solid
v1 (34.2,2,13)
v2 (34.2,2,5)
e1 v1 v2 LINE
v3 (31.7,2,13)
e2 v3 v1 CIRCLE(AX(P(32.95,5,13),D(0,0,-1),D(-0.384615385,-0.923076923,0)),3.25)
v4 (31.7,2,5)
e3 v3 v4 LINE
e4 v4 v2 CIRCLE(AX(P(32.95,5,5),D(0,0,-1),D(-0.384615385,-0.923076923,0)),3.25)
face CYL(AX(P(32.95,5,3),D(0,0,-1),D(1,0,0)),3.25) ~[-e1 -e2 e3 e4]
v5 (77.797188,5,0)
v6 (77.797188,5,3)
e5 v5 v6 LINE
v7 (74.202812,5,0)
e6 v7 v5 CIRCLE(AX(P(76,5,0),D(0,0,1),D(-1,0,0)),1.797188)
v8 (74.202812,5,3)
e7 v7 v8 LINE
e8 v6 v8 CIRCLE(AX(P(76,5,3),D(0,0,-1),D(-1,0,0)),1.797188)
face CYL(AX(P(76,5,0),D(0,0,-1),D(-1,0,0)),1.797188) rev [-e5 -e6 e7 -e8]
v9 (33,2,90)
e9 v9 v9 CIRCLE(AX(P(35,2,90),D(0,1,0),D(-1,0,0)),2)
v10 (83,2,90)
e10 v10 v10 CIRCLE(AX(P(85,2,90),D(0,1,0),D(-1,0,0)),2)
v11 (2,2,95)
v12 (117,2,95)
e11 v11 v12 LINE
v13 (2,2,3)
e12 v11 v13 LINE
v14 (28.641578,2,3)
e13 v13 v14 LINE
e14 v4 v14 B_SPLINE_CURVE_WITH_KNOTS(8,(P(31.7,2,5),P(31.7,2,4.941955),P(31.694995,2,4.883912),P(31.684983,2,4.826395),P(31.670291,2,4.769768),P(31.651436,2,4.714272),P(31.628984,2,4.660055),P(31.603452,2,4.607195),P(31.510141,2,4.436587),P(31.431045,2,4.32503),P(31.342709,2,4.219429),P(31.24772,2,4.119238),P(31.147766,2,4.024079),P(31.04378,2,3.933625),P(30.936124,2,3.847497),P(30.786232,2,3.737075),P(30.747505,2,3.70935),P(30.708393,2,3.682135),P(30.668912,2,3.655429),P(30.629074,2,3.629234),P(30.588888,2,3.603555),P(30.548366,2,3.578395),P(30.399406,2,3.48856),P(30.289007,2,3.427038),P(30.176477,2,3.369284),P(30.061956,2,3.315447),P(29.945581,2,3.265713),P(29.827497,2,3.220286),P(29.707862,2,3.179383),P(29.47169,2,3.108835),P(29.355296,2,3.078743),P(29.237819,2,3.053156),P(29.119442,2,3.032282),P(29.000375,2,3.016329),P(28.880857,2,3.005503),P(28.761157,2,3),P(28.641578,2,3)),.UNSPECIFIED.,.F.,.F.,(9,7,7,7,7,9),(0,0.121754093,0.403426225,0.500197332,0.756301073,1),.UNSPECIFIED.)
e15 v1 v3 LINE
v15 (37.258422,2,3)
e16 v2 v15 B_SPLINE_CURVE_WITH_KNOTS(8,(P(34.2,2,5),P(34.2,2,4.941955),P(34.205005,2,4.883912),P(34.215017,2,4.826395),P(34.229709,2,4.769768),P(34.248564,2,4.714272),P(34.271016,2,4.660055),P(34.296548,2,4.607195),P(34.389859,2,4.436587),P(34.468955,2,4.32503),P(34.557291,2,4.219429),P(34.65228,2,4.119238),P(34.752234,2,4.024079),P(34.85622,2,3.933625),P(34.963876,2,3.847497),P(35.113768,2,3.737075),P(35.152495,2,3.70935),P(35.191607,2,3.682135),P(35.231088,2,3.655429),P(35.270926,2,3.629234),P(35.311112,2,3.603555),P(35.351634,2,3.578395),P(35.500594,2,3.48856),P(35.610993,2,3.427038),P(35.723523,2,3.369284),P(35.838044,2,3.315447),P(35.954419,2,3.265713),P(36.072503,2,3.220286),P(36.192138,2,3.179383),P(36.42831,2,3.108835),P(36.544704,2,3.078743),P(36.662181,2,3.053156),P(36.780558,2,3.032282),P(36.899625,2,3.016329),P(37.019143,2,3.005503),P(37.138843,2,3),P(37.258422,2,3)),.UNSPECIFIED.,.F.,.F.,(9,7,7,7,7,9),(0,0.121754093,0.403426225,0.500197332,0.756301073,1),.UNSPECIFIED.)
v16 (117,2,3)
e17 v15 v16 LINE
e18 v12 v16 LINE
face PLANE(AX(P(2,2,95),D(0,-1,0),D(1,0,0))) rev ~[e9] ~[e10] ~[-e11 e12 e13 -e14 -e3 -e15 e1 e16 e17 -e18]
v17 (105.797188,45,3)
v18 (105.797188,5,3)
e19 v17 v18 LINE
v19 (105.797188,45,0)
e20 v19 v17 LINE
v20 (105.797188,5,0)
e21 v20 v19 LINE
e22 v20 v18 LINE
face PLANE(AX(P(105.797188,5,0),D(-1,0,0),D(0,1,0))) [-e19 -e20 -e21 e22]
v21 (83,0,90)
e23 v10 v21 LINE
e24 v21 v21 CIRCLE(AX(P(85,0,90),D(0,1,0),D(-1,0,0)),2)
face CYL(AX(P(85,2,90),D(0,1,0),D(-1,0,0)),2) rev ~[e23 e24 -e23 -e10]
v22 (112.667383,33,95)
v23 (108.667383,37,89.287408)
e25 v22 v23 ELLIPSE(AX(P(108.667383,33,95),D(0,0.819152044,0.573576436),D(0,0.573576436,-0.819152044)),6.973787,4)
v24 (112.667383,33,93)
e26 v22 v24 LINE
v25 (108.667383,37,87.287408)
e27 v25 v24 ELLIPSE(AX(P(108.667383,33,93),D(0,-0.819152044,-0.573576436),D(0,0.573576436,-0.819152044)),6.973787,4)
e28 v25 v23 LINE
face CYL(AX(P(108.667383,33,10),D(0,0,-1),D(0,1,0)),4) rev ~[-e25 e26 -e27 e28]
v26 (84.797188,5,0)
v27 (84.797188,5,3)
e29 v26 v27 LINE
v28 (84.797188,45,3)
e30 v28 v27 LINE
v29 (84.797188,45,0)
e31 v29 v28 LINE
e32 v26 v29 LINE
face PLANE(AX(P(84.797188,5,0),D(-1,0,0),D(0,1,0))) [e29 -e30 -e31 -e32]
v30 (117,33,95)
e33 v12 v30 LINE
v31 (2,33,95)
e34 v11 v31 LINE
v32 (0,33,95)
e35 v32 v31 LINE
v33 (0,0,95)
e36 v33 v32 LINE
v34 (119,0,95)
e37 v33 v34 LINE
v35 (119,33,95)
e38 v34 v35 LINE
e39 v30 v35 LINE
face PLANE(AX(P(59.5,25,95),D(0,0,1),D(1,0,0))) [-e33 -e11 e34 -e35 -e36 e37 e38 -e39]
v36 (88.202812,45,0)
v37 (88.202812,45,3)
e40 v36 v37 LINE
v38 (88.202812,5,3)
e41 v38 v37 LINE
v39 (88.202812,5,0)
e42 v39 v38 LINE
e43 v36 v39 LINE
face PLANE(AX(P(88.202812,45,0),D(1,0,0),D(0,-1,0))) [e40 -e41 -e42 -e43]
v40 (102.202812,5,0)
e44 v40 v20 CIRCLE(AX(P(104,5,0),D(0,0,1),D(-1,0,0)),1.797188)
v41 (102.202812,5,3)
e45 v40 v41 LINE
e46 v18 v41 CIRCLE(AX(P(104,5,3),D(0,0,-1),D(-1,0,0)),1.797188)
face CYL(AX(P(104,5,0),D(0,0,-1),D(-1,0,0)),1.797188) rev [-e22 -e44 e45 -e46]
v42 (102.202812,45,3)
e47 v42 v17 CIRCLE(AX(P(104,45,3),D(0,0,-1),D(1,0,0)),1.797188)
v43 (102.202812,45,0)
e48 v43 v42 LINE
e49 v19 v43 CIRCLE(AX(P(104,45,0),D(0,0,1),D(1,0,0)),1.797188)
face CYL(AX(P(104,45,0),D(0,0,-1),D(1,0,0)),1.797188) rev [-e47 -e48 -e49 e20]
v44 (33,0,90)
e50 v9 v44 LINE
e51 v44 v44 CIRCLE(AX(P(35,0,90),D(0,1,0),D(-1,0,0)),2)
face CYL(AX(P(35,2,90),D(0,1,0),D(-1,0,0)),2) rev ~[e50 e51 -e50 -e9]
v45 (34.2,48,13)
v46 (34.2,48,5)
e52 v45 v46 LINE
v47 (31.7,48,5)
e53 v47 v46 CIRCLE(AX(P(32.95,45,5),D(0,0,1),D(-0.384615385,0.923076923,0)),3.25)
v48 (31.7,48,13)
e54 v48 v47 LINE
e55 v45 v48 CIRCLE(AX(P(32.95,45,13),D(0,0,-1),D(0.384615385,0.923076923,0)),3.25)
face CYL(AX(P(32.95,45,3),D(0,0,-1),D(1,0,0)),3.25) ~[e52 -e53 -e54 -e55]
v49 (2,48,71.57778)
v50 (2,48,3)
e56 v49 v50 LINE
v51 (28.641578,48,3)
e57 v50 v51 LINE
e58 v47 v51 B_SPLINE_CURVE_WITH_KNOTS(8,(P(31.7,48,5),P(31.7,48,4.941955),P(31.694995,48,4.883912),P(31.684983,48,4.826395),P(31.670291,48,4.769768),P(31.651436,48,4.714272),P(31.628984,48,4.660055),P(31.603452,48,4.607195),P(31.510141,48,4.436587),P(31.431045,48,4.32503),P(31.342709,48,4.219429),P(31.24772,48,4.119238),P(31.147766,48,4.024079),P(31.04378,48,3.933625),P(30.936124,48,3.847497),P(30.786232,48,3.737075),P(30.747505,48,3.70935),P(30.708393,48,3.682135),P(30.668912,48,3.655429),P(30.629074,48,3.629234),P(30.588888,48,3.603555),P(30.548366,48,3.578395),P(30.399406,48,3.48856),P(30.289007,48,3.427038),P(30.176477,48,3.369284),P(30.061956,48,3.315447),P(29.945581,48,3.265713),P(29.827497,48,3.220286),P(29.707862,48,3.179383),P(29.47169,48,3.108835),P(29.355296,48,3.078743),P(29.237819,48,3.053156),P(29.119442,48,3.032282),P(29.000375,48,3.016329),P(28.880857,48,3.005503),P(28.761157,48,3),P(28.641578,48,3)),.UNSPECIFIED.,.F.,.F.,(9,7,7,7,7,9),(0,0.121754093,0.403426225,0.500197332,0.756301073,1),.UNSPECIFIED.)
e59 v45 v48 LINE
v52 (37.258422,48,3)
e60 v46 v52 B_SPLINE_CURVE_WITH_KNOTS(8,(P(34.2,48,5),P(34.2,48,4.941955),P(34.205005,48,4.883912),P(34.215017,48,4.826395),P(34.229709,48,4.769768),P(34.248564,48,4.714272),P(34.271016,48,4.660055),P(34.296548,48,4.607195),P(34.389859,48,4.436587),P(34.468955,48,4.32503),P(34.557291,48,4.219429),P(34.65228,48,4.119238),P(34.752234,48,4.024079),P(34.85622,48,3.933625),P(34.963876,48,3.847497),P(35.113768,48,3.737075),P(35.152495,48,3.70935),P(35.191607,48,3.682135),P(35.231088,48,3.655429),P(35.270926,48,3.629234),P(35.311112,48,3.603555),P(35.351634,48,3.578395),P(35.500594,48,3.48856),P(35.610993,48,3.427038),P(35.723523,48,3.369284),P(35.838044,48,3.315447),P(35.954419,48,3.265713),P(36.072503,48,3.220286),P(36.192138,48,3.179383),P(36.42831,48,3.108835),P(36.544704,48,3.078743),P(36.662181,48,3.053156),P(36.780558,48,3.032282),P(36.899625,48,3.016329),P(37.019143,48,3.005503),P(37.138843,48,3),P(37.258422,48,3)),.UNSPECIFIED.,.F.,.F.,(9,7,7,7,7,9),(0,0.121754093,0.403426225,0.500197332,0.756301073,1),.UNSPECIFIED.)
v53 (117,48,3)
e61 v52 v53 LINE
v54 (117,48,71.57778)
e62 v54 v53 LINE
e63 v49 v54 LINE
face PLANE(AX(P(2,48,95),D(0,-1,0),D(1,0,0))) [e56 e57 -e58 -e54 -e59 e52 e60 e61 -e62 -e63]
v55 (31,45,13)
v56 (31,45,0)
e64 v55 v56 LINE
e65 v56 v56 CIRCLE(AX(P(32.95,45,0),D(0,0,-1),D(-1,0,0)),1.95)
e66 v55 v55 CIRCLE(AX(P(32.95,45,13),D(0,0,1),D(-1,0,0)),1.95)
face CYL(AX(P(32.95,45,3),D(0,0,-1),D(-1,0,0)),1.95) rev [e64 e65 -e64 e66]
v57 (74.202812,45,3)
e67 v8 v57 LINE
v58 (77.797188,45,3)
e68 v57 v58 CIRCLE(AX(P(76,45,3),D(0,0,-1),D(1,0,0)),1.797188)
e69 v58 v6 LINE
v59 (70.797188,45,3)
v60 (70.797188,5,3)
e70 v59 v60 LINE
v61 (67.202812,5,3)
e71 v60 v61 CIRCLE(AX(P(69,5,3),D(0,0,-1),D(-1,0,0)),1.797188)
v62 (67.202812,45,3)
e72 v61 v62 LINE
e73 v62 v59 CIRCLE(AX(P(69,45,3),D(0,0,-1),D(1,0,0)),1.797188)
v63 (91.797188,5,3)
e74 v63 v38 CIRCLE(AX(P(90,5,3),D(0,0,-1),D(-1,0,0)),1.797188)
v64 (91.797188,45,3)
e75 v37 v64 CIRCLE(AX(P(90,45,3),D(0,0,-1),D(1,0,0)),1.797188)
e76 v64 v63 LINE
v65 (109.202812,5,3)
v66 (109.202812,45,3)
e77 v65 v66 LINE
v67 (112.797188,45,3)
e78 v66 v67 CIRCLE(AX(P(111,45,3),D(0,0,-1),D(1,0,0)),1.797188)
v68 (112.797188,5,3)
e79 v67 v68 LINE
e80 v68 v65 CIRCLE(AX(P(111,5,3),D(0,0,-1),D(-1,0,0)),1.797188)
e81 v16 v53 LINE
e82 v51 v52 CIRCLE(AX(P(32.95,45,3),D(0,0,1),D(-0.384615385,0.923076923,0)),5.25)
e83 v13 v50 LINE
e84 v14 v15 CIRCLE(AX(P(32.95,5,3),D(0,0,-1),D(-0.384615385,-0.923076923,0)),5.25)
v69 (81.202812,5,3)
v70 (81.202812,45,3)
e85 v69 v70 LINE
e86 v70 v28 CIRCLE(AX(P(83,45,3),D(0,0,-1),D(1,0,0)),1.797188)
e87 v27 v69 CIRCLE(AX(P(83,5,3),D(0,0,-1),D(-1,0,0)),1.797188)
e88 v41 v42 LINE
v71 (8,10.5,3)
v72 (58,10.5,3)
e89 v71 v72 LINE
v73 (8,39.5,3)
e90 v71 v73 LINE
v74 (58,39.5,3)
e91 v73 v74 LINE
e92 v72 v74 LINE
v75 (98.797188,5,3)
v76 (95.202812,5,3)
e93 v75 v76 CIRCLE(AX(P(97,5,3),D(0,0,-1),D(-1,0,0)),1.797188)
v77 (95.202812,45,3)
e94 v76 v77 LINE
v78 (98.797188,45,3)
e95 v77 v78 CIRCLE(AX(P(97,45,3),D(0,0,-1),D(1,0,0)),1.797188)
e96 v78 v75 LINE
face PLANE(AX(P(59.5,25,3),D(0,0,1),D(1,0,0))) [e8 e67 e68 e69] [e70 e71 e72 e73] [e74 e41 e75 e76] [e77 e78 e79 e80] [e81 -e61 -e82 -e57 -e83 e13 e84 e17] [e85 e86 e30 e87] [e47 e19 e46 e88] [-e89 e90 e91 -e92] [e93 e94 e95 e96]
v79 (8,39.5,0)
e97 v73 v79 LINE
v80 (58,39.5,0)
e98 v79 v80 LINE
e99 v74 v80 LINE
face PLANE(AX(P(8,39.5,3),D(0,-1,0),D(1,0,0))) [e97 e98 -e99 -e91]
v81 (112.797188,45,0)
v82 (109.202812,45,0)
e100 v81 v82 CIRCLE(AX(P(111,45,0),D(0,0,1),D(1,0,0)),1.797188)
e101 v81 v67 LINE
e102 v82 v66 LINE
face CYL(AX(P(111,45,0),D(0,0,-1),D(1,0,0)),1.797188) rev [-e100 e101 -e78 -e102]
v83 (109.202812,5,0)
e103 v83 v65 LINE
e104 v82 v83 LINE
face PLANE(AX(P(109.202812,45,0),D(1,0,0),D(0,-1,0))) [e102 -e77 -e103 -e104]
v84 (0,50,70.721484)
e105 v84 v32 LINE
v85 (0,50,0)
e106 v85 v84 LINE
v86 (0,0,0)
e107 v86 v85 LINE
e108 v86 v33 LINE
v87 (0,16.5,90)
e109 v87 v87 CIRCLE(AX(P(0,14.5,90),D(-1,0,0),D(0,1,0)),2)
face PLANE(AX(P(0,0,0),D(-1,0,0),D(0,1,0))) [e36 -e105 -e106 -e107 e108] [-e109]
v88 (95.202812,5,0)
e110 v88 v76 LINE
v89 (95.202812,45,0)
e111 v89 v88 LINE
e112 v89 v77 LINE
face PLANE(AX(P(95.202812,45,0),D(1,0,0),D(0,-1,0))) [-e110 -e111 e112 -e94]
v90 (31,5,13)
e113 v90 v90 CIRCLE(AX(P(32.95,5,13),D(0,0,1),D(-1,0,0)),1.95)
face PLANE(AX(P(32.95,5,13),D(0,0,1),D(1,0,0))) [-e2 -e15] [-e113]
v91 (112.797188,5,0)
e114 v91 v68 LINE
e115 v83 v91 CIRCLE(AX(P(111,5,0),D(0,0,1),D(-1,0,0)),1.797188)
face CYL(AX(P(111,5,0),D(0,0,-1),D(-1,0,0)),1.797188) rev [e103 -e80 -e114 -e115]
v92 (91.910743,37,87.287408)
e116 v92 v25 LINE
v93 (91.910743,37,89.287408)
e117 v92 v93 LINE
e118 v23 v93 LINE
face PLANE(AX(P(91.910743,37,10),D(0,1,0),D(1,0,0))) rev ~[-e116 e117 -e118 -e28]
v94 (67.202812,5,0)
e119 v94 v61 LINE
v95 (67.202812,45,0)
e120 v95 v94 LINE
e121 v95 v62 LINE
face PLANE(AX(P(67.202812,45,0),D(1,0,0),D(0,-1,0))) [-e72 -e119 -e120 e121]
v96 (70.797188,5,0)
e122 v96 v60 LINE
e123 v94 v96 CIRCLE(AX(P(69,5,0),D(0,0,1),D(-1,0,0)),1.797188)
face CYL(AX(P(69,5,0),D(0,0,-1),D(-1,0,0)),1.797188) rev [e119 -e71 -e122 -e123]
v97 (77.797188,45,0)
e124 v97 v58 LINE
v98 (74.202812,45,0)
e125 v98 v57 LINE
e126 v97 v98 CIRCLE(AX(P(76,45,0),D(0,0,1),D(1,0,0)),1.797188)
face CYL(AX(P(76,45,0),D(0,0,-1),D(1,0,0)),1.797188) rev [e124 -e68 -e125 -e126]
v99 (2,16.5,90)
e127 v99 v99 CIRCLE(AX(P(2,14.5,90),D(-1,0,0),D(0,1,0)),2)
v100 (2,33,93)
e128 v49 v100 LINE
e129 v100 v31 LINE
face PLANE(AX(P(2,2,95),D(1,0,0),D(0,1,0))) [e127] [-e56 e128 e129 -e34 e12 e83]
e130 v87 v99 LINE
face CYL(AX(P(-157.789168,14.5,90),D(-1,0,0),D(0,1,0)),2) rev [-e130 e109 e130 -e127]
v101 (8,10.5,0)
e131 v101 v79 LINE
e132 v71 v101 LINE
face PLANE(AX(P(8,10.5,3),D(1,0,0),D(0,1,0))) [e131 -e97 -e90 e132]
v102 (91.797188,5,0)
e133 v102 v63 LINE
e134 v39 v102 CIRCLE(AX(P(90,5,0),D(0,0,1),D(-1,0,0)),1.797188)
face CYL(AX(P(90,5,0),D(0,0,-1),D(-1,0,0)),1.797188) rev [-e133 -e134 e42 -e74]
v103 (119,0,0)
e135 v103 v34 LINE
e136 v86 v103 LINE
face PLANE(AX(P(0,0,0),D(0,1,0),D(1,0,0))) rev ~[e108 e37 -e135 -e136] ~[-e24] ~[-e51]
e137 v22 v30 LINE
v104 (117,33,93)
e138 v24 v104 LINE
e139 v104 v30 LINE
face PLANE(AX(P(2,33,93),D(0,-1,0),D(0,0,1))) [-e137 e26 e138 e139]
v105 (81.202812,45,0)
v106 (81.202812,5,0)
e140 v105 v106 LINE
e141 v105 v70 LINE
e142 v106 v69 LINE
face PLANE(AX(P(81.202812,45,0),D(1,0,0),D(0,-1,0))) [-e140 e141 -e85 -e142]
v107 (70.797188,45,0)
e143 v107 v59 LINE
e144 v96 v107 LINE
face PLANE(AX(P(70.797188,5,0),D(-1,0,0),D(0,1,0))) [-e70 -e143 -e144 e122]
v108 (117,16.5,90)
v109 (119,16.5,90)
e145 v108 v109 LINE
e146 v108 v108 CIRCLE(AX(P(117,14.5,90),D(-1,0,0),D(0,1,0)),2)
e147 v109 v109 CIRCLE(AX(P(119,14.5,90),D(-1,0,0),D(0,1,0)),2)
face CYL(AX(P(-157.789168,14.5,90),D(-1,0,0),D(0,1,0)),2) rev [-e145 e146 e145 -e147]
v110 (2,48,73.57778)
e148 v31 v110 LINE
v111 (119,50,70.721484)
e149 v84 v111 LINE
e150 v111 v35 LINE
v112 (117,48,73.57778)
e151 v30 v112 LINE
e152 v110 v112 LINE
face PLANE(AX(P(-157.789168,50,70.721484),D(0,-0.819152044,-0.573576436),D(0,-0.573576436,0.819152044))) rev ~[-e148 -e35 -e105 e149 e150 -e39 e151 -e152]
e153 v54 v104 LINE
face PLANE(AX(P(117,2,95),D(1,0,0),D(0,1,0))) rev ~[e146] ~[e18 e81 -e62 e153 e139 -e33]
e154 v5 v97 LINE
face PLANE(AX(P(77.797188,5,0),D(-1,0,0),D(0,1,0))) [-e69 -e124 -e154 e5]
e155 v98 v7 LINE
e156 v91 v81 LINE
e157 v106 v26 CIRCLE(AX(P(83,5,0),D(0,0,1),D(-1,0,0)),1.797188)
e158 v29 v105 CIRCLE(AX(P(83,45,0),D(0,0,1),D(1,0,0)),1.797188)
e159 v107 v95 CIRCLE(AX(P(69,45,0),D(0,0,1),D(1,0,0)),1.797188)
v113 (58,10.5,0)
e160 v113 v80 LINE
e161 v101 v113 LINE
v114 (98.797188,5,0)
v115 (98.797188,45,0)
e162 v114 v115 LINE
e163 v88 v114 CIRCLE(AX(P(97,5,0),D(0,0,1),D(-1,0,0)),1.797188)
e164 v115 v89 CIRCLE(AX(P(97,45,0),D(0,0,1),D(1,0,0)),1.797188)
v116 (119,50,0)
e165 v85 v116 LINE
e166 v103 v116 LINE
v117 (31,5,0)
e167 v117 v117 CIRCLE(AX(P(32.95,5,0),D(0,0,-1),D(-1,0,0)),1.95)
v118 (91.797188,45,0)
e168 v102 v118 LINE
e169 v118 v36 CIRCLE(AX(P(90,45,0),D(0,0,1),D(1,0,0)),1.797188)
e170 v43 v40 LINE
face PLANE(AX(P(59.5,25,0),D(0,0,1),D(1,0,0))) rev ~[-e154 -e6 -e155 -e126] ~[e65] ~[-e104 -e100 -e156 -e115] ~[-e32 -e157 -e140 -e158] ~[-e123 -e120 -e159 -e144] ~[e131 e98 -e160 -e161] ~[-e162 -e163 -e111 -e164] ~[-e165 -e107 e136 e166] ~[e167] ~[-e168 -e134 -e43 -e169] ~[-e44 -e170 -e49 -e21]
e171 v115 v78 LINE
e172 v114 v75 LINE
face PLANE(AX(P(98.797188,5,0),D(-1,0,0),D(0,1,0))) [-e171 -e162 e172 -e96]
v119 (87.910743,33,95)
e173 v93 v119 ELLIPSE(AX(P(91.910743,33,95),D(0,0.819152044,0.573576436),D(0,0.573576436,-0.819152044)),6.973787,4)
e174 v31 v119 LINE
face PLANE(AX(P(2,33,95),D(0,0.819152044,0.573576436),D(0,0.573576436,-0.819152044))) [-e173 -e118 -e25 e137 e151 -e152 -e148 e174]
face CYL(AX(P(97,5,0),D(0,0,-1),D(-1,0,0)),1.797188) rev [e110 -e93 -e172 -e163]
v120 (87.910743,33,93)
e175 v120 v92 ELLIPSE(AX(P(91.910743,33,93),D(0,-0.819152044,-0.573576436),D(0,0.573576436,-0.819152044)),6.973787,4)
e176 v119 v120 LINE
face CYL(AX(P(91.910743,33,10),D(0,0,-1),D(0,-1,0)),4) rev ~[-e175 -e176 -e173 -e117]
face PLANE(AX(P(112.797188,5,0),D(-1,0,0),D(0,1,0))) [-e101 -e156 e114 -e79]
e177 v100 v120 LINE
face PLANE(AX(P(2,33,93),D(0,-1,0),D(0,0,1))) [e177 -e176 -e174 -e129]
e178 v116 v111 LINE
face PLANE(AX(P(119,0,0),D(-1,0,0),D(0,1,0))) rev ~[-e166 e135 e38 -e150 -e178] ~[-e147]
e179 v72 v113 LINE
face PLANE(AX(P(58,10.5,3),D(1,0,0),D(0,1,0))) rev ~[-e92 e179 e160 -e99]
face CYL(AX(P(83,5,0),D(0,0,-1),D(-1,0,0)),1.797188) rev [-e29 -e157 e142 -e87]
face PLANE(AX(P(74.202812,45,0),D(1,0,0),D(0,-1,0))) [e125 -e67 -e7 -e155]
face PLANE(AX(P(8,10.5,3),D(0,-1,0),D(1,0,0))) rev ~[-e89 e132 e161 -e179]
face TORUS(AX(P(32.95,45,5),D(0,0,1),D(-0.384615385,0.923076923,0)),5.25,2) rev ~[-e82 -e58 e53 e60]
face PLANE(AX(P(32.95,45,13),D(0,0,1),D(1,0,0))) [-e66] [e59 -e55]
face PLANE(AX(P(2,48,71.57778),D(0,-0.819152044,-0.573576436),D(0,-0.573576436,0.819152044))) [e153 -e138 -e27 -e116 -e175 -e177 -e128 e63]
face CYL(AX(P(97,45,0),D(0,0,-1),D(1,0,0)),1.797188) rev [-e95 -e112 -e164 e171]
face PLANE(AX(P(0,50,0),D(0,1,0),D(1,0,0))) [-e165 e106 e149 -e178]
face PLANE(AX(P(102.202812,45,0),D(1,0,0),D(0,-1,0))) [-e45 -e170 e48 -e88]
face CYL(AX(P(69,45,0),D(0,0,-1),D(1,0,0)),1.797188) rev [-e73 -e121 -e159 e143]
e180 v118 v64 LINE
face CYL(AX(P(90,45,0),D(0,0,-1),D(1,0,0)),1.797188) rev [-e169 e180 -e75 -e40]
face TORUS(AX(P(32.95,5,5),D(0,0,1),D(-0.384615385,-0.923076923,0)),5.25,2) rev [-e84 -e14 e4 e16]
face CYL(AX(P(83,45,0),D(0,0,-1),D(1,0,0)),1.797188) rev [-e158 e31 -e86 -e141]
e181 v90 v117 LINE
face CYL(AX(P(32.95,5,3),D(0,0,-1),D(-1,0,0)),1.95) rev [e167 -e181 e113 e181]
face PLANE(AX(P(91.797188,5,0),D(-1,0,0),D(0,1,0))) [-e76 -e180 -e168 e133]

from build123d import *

# Parameters (mm, degrees)
SKETCH1_W               = 119
SKETCH1_H               = 50
BOSS_EXTRUDE1_DEPTH     = 95
SKETCH2_W               = 115
SKETCH2_H               = 46
CUT_EXTRUDE1_DEPTH      = 92
SKETCH3_W               = 50
SKETCH3_H               = 29
CUT_EXTRUDE2_DEPTH      = 10
SKETCH4_R               = 1.95
CUT_EXTRUDE3_DEPTH      = 10
SKETCH5_R               = 3.25
SKETCH5_R_2             = 1.95
BOSS_EXTRUDE3_DEPTH     = 10
FILLET1_R               = 2
SKETCH6_R               = 2
CUT_EXTRUDE4_DEPTH      = 10
CUT_EXTRUDE5_DEPTH      = 159.789168456
CUT_EXTRUDE5_DEPTH_BACK = 159.789168456
SKETCH8_R               = 2
BOSS_EXTRUDE4_DEPTH     = 115
CUT_EXTRUDE6_DEPTH      = 159.789168456
CUT_EXTRUDE6_DEPTH_BACK = 159.789168456
CUT_EXTRUDE8_DEPTH      = 10
CUT_EXTRUDE9_DEPTH      = 155.550962524


with BuildPart() as part:
    # Sketch1 → Boss-Extrude1 (new body)
    with BuildSketch(Plane.XY):
        with Locations((59.5, 25)):
            Rectangle(SKETCH1_W, SKETCH1_H)
    extrude(amount=BOSS_EXTRUDE1_DEPTH)

    # Sketch2 → Cut-Extrude1 (cut)
    with BuildSketch(Plane.XY.offset(95)):
        with Locations((59.5, 25)):
            Rectangle(SKETCH2_W, SKETCH2_H)
    extrude(amount=-CUT_EXTRUDE1_DEPTH, mode=Mode.SUBTRACT)

    # Sketch3 → Cut-Extrude2 (cut)
    with BuildSketch(Plane.XY.offset(3)):
        with Locations((33, 25)):
            Rectangle(SKETCH3_W, SKETCH3_H)
    extrude(amount=-CUT_EXTRUDE2_DEPTH, mode=Mode.SUBTRACT)

    # Sketch4 → Cut-Extrude3 (cut)
    with BuildSketch(Plane(origin=(0, 0, 0), x_dir=(-1, 0, 0), z_dir=(0, 0, -1))):
        with Locations((-32.95, 45)):
            Circle(SKETCH4_R)
        with Locations((-32.95, 5)):
            Circle(SKETCH4_R)
    extrude(amount=-CUT_EXTRUDE3_DEPTH, mode=Mode.SUBTRACT)

    # Sketch5 → Boss-Extrude3 (add)
    # profile 1 of 2: a face of its own
    with BuildSketch(Plane.XY.offset(3)):
        with Locations((32.95, 45)):
            Circle(SKETCH5_R)
        with Locations(Location((32.95, 45, 0), (0, 0, 180))):
            Circle(SKETCH5_R_2, mode=Mode.SUBTRACT)
    # profile 2 of 2: a face of its own
    with BuildSketch(Plane.XY.offset(3)):
        with Locations((32.95, 5)):
            Circle(SKETCH5_R)
        with Locations(Location((32.95, 5, 0), (0, 0, 180))):
            Circle(SKETCH5_R_2, mode=Mode.SUBTRACT)
    extrude(amount=BOSS_EXTRUDE3_DEPTH)

    # Fillet1
    fillet1_edges = [part.edges().sort_by_distance(p)[0] for p in [
        (31.147224362, 42.295836543, 3),
        (31.147224362, 7.704163457, 3),
    ]]
    fillet(fillet1_edges, radius=FILLET1_R)

    # Sketch6 → Cut-Extrude4 (cut)
    with BuildSketch(Plane(origin=(0, 2, 0), x_dir=(1, 0, 0), z_dir=(0, 1, 0))):
        with Locations(Location((85, -90, 0), (0, 0, 180))):
            Circle(SKETCH6_R)
        with Locations(Location((35, -90, 0), (0, 0, 180))):
            Circle(SKETCH6_R)
    extrude(amount=-CUT_EXTRUDE4_DEPTH, mode=Mode.SUBTRACT)

    # Sketch8 → Cut-Extrude5 (cut, two sides: drawn at the far end of the back side and taken through both)
    with BuildSketch(Plane(origin=(2, 0, 0), x_dir=(0, 0, -1), z_dir=(1, 0, 0)).offset(-CUT_EXTRUDE5_DEPTH_BACK)):
        with Locations(Location((-90, 14.5, 0), (0, 0, 90))):
            Circle(SKETCH8_R)
    extrude(amount=CUT_EXTRUDE5_DEPTH + CUT_EXTRUDE5_DEPTH_BACK, mode=Mode.SUBTRACT)

    # Sketch9 → Boss-Extrude4 (add)
    with BuildSketch(Plane(origin=(2, 0, 0), x_dir=(0, 0, -1), z_dir=(1, 0, 0))):
        Polygon((-95, 33), (-73.577779899, 48), (-71.577779899, 48), (-93, 33), align=None)
    extrude(amount=BOSS_EXTRUDE4_DEPTH)

    # Sketch10 → Cut-Extrude6 (cut, two sides: drawn at the far end of the back side and taken through both)
    with BuildSketch(Plane(origin=(2, 0, 0), x_dir=(0, 0, -1), z_dir=(1, 0, 0)).offset(-CUT_EXTRUDE6_DEPTH_BACK)):
        Polygon((-95, 33), (-95, 50), (-70.721483885, 50), align=None)
    extrude(amount=CUT_EXTRUDE6_DEPTH + CUT_EXTRUDE6_DEPTH_BACK, mode=Mode.SUBTRACT)

    # Sketch11 → Cut-Extrude8 (cut)
    with BuildSketch(Plane(origin=(0, 0, 0), x_dir=(-1, 0, 0), z_dir=(0, 0, -1))):
        with BuildLine():
            Line((-109.202811856, 45), (-109.202811856, 5))
            ThreePointArc((-109.202811856, 5), (-111, 3.202811856), (-112.797188144, 5))
            Line((-112.797188144, 5), (-112.797188144, 45))
            ThreePointArc((-112.797188144, 45), (-111, 46.797188144), (-109.202811856, 45))
        make_face()
        with BuildLine():
            Line((-102.202811856, 45), (-102.202811856, 5))
            ThreePointArc((-102.202811856, 5), (-104, 3.202811856), (-105.797188144, 5))
            Line((-105.797188144, 5), (-105.797188144, 45))
            ThreePointArc((-105.797188144, 45), (-104, 46.797188144), (-102.202811856, 45))
        make_face()
        with BuildLine():
            Line((-95.202811856, 45), (-95.202811856, 5))
            ThreePointArc((-95.202811856, 5), (-97, 3.202811856), (-98.797188144, 5))
            Line((-98.797188144, 5), (-98.797188144, 45))
            ThreePointArc((-98.797188144, 45), (-97, 46.797188144), (-95.202811856, 45))
        make_face()
        with BuildLine():
            Line((-88.202811856, 45), (-88.202811856, 5))
            ThreePointArc((-88.202811856, 5), (-90, 3.202811856), (-91.797188144, 5))
            Line((-91.797188144, 5), (-91.797188144, 45))
            ThreePointArc((-91.797188144, 45), (-90, 46.797188144), (-88.202811856, 45))
        make_face()
        with BuildLine():
            Line((-81.202811856, 45), (-81.202811856, 5))
            ThreePointArc((-81.202811856, 5), (-83, 3.202811856), (-84.797188144, 5))
            Line((-84.797188144, 5), (-84.797188144, 45))
            ThreePointArc((-84.797188144, 45), (-83, 46.797188144), (-81.202811856, 45))
        make_face()
        with BuildLine():
            Line((-74.202811856, 45), (-74.202811856, 5))
            ThreePointArc((-74.202811856, 5), (-76, 3.202811856), (-77.797188144, 5))
            Line((-77.797188144, 5), (-77.797188144, 45))
            ThreePointArc((-77.797188144, 45), (-76, 46.797188144), (-74.202811856, 45))
        make_face()
        with BuildLine():
            Line((-67.202811856, 45), (-67.202811856, 5))
            ThreePointArc((-67.202811856, 5), (-69, 3.202811856), (-70.797188144, 5))
            Line((-70.797188144, 5), (-70.797188144, 45))
            ThreePointArc((-70.797188144, 45), (-69, 46.797188144), (-67.202811856, 45))
        make_face()
    extrude(amount=-CUT_EXTRUDE8_DEPTH, mode=Mode.SUBTRACT)

    # Sketch12 → Cut-Extrude9 (cut, through all)
    with BuildSketch(Plane.XY.offset(10)):
        with BuildLine():
            Line((108.667383108, 29), (91.910743178, 29))
            ThreePointArc((91.910743178, 29), (87.910743178, 33), (91.910743178, 37))
            Line((91.910743178, 37), (108.667383108, 37))
            ThreePointArc((108.667383108, 37), (112.667383108, 33), (108.667383108, 29))
        make_face()
    extrude(amount=CUT_EXTRUDE9_DEPTH, mode=Mode.SUBTRACT)


solid = part.part
